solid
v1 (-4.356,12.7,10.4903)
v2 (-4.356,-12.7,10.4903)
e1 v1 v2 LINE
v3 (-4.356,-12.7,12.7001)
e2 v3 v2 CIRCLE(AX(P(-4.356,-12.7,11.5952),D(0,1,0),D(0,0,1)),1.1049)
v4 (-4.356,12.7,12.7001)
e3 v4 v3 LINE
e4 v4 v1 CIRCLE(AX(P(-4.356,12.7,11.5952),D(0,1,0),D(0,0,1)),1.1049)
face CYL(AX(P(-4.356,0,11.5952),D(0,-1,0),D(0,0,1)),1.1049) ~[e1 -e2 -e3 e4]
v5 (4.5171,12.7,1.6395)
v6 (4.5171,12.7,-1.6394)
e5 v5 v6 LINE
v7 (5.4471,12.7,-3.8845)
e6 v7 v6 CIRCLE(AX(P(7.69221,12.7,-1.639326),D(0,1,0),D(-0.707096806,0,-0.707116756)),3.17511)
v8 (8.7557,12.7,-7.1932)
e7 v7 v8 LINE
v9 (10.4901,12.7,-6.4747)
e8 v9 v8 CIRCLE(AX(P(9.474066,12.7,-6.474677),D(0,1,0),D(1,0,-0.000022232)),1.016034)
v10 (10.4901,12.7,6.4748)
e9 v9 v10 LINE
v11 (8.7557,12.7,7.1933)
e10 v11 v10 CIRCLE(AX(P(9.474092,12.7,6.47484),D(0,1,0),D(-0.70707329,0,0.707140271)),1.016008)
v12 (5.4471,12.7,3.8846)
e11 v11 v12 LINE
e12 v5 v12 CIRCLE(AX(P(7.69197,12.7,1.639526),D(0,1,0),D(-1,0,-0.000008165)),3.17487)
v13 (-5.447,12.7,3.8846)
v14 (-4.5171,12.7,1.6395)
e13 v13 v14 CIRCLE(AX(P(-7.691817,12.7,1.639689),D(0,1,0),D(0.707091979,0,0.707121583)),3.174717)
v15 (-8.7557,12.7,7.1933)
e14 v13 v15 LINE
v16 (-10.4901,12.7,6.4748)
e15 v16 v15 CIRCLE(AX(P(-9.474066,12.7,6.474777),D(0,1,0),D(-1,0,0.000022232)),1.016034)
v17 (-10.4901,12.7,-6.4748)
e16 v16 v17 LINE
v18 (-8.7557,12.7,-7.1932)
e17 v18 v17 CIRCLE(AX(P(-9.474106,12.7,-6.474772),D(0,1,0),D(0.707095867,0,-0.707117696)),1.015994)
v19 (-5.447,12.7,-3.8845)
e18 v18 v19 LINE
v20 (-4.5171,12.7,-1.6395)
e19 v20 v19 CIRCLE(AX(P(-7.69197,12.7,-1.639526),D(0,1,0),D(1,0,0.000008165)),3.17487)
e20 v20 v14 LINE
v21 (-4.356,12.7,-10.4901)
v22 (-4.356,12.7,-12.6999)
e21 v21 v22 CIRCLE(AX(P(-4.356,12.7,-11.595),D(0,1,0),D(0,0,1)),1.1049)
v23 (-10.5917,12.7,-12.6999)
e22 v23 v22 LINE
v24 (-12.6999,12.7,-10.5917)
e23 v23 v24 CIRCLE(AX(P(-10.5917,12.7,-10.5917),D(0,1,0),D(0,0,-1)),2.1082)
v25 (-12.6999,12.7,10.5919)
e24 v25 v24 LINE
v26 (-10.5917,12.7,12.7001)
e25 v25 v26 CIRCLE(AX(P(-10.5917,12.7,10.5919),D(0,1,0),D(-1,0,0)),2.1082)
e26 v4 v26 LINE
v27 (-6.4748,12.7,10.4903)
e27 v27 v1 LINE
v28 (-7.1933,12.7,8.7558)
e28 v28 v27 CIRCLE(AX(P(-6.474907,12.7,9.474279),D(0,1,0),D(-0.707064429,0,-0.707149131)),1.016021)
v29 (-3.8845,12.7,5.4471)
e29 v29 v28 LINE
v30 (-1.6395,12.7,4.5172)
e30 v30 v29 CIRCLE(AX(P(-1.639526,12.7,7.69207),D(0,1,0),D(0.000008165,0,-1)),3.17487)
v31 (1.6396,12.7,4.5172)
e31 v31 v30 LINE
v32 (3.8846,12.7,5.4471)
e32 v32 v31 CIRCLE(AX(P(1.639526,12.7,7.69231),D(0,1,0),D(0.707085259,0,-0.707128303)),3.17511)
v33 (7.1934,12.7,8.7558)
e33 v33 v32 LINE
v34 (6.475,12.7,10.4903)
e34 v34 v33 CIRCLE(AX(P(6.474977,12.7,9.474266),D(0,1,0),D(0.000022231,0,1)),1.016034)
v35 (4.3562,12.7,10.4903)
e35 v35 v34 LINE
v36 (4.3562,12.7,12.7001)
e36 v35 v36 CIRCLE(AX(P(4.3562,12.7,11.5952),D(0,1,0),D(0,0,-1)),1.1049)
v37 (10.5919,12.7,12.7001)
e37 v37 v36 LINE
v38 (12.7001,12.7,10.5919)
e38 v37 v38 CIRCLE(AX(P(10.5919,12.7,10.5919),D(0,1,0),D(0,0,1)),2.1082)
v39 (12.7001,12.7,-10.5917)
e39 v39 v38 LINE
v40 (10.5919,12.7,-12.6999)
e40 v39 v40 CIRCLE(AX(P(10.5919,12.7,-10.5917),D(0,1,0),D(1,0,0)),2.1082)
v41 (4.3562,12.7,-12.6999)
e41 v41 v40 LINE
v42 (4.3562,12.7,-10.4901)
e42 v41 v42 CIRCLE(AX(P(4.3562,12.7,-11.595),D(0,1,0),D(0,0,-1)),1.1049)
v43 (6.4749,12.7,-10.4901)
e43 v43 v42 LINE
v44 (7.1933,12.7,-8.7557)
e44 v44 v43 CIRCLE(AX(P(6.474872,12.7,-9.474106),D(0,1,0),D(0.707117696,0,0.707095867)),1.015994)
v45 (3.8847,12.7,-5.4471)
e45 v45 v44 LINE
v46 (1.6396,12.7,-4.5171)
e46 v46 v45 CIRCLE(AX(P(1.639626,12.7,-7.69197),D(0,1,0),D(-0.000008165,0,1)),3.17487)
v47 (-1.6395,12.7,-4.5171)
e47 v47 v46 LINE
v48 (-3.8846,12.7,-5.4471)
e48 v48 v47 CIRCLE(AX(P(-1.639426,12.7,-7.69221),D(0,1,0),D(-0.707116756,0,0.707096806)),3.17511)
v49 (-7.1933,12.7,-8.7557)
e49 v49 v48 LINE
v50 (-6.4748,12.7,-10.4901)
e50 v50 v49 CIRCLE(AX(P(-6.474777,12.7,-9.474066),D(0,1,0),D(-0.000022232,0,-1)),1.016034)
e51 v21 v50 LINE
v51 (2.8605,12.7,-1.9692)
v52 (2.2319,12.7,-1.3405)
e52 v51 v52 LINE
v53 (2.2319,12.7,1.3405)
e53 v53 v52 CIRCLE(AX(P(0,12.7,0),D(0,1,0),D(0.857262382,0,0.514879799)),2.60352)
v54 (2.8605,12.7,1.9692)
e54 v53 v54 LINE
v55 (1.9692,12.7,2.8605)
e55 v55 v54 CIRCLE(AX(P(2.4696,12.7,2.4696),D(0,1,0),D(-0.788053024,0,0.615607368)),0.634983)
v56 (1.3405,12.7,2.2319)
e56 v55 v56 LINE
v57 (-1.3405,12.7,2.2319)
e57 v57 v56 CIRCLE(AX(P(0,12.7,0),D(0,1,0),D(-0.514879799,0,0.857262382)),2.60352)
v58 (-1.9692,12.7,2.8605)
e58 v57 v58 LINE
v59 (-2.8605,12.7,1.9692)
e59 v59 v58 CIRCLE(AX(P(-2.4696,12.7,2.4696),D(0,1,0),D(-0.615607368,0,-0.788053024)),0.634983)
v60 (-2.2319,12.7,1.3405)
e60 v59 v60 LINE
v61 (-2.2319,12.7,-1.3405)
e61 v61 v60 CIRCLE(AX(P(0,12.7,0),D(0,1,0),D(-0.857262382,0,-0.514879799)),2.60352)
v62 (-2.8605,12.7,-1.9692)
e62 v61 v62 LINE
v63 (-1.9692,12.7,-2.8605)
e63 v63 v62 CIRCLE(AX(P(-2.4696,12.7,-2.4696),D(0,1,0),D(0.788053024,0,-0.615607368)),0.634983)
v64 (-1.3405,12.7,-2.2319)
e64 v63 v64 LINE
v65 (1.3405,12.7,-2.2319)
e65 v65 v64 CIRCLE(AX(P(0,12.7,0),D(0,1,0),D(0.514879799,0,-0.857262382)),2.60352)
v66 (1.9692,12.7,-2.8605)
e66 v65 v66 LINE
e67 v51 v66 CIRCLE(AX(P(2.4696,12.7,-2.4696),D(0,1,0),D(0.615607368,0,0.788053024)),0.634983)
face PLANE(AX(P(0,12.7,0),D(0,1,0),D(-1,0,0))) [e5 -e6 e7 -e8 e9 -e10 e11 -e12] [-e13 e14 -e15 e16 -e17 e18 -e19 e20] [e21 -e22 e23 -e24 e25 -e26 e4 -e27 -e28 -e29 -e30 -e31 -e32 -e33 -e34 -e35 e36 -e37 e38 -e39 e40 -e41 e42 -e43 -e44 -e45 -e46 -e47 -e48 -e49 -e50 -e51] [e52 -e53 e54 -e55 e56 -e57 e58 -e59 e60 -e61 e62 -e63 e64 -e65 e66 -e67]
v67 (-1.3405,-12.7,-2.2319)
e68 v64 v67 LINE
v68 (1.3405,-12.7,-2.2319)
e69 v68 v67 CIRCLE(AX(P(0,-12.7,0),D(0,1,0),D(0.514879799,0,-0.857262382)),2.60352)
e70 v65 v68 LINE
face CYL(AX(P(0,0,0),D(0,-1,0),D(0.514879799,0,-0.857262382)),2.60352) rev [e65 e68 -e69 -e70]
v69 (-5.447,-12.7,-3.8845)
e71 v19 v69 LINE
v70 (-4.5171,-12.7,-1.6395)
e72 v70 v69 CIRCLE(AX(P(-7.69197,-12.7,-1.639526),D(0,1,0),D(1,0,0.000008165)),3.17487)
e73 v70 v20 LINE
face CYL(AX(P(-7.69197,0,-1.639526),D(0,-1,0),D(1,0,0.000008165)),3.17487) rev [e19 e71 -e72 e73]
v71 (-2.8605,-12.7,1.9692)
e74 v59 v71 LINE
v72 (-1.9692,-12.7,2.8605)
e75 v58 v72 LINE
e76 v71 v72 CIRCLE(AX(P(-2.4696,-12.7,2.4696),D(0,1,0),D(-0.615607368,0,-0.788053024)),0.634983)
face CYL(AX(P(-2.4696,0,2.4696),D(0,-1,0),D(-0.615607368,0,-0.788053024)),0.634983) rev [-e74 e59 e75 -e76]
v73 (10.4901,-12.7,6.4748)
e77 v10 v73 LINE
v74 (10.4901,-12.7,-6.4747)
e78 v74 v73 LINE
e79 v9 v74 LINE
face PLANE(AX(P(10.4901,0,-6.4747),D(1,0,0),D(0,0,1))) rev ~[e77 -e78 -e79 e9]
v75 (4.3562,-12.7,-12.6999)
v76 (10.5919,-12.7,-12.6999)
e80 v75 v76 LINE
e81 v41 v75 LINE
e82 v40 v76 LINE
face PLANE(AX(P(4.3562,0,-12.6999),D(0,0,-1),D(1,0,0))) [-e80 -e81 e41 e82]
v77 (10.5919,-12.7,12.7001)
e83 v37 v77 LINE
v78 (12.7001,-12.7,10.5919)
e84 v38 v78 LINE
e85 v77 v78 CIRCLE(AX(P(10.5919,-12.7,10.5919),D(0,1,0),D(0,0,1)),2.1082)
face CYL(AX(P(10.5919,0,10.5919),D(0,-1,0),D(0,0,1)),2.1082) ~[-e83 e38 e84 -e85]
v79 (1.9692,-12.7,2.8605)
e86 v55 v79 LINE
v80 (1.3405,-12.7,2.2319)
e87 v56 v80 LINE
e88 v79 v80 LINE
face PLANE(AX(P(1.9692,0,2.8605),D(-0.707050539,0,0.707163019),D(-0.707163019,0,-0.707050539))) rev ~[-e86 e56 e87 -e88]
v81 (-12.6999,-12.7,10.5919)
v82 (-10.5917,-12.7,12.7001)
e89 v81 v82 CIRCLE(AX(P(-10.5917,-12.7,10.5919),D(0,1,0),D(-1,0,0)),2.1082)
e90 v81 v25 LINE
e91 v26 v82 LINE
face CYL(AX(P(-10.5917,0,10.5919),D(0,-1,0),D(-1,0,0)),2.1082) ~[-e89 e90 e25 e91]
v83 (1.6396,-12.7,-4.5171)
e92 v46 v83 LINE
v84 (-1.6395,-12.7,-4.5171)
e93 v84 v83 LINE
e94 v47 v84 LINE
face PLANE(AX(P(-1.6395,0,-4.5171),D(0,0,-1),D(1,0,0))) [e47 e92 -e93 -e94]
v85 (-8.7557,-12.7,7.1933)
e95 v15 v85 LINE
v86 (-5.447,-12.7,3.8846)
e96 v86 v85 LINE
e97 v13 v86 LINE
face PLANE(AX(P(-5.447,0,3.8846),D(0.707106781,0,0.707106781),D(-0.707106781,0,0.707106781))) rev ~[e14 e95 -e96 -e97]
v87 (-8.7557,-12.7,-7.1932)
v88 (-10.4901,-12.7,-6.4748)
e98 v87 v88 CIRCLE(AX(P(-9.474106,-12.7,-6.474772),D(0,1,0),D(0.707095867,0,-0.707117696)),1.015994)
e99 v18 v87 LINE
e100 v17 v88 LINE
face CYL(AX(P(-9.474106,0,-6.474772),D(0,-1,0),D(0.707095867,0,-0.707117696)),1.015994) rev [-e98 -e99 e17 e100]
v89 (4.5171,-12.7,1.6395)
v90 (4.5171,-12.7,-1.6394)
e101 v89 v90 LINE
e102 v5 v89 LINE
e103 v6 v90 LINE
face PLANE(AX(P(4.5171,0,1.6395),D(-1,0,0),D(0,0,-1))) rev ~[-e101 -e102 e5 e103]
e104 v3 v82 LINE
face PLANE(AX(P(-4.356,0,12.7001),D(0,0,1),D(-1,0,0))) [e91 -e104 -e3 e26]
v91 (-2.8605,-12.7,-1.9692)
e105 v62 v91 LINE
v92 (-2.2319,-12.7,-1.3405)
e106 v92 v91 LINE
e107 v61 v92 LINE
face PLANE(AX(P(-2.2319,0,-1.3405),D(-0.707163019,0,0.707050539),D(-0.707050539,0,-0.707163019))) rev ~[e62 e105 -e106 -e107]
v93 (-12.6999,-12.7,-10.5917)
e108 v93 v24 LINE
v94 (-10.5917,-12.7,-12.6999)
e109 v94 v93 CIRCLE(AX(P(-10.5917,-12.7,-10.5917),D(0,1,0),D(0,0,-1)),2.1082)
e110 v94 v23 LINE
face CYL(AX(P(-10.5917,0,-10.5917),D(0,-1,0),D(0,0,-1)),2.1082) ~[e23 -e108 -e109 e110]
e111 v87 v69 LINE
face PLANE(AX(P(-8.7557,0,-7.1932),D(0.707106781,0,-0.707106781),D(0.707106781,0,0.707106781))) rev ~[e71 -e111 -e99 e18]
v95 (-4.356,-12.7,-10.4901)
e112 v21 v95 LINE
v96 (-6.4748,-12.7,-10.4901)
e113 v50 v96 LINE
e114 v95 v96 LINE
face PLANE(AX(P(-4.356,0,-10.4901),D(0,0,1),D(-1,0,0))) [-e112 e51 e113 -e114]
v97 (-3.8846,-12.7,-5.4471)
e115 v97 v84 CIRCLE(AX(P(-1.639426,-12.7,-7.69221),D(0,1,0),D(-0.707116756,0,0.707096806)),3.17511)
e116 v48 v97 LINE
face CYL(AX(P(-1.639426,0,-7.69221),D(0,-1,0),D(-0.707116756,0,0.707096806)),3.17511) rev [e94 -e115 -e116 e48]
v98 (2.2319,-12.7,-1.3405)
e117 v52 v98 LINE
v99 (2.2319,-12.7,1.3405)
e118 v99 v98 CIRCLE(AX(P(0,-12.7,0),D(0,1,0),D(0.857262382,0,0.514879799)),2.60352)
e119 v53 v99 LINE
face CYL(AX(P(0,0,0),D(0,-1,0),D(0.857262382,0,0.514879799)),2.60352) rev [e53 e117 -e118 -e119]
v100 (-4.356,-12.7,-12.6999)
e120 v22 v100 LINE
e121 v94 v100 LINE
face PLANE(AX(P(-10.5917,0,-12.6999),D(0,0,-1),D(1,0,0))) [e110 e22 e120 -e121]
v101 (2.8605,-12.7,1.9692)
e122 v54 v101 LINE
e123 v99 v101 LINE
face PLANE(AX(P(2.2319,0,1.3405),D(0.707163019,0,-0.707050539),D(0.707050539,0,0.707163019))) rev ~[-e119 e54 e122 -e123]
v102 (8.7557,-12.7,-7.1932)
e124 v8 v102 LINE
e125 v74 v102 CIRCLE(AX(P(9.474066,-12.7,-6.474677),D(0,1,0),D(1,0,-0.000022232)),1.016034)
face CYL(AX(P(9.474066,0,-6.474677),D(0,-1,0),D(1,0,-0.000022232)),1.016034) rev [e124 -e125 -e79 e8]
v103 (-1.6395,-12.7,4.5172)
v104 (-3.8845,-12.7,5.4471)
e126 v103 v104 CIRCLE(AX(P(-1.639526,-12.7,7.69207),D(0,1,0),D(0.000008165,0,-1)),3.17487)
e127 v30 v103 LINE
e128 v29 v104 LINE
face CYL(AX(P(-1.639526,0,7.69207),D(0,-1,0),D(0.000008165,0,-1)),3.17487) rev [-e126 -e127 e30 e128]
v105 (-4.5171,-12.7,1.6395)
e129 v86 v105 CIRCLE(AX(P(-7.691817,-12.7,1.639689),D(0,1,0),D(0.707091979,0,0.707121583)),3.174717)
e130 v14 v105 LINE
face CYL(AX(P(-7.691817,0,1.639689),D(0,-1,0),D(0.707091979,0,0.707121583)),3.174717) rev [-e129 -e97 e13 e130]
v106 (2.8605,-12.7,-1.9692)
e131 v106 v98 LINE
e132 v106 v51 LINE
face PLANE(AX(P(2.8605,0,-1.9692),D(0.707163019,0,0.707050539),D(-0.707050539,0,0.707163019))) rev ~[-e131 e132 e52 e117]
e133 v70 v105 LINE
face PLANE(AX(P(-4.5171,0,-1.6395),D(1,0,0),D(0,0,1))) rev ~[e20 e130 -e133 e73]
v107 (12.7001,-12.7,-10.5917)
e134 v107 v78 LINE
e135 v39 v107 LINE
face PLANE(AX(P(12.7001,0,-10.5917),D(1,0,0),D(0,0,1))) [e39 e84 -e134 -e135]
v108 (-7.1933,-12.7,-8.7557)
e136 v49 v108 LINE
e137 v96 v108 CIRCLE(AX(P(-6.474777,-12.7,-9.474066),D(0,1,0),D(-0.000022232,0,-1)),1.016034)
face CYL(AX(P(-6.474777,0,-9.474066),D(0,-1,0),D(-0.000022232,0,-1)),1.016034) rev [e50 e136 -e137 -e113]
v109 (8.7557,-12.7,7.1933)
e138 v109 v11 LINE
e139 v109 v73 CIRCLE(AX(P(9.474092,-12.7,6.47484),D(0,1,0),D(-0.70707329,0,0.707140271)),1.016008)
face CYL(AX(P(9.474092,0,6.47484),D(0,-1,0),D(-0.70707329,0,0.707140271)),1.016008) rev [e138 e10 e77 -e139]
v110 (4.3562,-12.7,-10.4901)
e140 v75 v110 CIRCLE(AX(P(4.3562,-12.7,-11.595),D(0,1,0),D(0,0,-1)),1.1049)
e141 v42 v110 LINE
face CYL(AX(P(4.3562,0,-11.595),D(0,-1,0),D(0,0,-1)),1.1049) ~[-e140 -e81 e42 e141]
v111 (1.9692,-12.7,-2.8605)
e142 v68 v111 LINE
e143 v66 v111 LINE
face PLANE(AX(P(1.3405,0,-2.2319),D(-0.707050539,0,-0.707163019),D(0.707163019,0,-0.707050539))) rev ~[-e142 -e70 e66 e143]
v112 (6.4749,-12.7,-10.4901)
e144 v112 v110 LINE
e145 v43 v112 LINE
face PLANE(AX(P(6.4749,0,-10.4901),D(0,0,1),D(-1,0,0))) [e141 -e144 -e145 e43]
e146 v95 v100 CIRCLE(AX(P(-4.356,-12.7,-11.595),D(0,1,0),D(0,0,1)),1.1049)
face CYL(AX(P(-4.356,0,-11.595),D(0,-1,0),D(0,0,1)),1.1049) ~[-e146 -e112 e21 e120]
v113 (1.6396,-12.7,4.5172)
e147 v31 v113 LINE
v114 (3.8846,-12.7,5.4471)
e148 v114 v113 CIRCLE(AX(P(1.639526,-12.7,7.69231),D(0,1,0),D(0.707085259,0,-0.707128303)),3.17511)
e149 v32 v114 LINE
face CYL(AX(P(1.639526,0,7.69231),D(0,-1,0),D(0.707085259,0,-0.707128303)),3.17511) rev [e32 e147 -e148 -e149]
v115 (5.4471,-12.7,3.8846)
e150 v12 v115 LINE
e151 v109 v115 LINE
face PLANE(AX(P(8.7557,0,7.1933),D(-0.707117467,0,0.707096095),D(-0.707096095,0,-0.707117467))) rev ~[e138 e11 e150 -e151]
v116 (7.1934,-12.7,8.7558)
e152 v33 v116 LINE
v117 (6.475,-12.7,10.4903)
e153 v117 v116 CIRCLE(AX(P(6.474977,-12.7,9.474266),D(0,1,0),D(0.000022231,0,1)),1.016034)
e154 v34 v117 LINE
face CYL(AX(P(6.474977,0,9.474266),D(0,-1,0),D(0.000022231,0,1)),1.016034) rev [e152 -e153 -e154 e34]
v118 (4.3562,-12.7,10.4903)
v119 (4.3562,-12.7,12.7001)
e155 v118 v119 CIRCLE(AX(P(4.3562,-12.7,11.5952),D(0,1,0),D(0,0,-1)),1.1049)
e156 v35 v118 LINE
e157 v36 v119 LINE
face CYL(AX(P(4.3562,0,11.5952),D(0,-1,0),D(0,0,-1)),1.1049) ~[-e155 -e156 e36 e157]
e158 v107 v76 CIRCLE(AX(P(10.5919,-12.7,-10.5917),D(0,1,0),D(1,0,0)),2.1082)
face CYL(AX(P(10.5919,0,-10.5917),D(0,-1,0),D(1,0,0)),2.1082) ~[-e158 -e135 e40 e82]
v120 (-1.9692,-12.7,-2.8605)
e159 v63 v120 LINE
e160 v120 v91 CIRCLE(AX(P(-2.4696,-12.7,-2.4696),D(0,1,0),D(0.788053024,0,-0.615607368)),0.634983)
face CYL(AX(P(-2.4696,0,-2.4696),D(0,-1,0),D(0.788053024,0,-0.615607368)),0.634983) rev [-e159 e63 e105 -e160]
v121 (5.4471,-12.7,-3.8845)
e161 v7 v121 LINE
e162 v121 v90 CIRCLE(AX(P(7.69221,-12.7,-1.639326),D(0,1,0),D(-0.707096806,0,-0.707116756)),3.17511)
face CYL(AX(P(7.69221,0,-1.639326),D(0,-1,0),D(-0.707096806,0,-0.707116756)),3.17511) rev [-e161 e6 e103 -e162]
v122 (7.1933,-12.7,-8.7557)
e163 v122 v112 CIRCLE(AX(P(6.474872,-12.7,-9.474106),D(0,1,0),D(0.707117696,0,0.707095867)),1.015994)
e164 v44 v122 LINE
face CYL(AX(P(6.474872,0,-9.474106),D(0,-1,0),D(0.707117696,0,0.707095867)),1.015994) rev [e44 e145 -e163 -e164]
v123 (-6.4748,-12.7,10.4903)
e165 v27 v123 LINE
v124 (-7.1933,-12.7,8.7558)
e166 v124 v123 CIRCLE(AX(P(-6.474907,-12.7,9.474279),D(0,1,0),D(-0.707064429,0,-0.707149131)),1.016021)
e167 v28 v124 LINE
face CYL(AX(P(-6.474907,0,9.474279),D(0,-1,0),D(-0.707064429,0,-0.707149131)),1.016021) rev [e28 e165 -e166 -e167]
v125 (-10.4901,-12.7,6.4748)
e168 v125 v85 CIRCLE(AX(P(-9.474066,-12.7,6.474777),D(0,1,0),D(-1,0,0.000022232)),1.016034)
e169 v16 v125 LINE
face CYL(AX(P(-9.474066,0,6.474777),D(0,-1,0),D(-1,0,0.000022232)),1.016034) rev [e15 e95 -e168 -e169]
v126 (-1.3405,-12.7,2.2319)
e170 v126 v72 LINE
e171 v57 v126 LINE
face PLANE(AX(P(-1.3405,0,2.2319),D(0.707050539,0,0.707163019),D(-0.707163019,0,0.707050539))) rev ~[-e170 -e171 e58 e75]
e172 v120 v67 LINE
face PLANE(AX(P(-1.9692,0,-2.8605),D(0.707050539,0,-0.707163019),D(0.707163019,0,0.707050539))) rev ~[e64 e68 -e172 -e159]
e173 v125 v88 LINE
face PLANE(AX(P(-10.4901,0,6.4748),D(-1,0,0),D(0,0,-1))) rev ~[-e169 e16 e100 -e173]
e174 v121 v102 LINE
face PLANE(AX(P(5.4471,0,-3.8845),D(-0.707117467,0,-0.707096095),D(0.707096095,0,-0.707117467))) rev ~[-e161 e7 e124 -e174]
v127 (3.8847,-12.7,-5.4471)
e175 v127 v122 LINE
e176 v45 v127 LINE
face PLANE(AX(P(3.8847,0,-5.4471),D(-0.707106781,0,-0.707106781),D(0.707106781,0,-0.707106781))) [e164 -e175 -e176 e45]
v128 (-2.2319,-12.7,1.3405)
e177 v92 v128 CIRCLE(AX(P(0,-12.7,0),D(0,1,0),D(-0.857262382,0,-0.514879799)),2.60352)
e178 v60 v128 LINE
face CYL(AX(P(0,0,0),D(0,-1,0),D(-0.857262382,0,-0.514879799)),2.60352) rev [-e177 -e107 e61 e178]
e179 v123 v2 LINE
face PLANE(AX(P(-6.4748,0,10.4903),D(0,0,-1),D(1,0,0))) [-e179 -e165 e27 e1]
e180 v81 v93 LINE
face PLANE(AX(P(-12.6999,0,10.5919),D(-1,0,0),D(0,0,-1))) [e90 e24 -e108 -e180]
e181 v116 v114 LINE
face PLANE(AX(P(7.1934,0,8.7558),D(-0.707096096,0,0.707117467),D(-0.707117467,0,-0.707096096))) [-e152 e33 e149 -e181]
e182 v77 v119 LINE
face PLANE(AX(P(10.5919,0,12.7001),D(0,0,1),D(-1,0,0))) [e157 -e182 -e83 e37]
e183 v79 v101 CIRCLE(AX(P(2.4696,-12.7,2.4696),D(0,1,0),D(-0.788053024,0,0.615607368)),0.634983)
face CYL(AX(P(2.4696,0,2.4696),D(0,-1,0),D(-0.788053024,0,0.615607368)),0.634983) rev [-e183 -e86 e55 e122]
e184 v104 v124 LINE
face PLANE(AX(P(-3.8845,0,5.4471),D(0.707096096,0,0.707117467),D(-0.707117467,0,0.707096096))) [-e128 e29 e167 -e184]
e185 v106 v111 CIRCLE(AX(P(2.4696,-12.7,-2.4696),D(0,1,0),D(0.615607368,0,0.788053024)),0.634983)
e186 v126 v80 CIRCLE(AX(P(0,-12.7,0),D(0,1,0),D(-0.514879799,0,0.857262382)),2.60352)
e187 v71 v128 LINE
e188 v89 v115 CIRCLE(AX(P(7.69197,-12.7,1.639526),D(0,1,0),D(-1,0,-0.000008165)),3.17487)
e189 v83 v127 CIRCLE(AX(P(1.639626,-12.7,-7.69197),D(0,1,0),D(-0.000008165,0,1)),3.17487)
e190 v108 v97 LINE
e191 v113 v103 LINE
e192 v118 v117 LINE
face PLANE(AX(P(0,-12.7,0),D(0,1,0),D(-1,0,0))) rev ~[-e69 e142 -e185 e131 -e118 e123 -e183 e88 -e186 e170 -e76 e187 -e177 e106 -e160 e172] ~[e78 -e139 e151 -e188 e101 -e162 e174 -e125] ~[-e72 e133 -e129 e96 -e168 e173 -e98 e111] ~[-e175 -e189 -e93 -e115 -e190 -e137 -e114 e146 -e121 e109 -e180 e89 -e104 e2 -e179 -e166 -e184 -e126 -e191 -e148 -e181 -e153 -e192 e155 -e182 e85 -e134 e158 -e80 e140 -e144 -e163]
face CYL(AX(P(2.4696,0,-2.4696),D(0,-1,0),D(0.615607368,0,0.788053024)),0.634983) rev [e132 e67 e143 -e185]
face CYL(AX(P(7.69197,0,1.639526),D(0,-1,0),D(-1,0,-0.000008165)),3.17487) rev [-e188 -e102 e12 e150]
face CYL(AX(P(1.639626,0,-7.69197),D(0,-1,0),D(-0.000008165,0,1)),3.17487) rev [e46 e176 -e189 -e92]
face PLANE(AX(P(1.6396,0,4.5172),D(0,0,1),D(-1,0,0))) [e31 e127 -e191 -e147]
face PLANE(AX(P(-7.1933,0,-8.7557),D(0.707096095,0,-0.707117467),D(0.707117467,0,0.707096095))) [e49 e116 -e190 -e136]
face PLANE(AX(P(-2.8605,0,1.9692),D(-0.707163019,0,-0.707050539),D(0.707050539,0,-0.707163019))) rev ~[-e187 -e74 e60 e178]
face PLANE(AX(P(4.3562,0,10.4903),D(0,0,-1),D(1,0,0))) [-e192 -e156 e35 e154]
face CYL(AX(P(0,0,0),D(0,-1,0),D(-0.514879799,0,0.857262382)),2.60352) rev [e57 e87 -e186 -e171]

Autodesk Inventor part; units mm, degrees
ref_plane "YZ Plane" through (0, 0, 0) normal (1, 0, 0) x (0, 1, 0)
ref_plane "XZ Plane" through (0, 0, 0) normal (0, 1, 0) x (-1, 0, 0)
ref_plane "XY Plane" through (0, 0, 0) normal (0, 0, 1) x (1, 0, 0)
sketch "Sketch1" plane through (0, 0, 0) normal (0, 1, 0) x (-1, 0, 0)
  arc A0 (-2.8605, -1.9692) -> (-1.9692, -2.8605) centre (-2.4696, -2.4696) ccw
  line L0 (-1.3405, -2.2319) -> (-1.9692, -2.8605)
  arc A1 (-1.3405, -2.2319) -> (1.3405, -2.2319) centre (0, 0) ccw
  line L1 (1.9692, -2.8605) -> (1.3405, -2.2319)
  arc A2 (1.9692, -2.8605) -> (2.8605, -1.9692) centre (2.4696, -2.4696) ccw
  line L2 (2.2319, -1.3405) -> (2.8605, -1.9692)
  arc A3 (2.2319, -1.3405) -> (2.2319, 1.3405) centre (0, 0) ccw
  line L3 (2.8605, 1.9692) -> (2.2319, 1.3405)
  arc A4 (2.8605, 1.9692) -> (1.9692, 2.8605) centre (2.4696, 2.4696) ccw
  line L4 (1.3405, 2.2319) -> (1.9692, 2.8605)
  arc A5 (1.3405, 2.2319) -> (-1.3405, 2.2319) centre (0, 0) ccw
  line L5 (-1.9692, 2.8605) -> (-1.3405, 2.2319)
  arc A6 (-1.9692, 2.8605) -> (-2.8605, 1.9692) centre (-2.4696, 2.4696) ccw
  line L6 (-2.2319, 1.3405) -> (-2.8605, 1.9692)
  arc A7 (-2.2319, 1.3405) -> (-2.2319, -1.3405) centre (0, 0) ccw
  line L7 (-2.8605, -1.9692) -> (-2.2319, -1.3405)
  arc A8 (4.5171, -1.6395) -> (5.447, -3.8845) centre (7.6921, -1.6395) ccw
  line L8 (8.7557, -7.1932) -> (5.447, -3.8845)
  arc A9 (8.7557, -7.1932) -> (10.4901, -6.4748) centre (9.4741, -6.4748) ccw
  line L9 (10.4901, 6.4748) -> (10.4901, -6.4748)
  arc A10 (10.4901, 6.4748) -> (8.7557, 7.1933) centre (9.4741, 6.4748) ccw
  line L10 (5.447, 3.8846) -> (8.7557, 7.1933)
  arc A11 (5.447, 3.8846) -> (4.5171, 1.6395) centre (7.6921, 1.6395) ccw
  line L11 (4.5171, -1.6395) -> (4.5171, 1.6395)
  arc A12 (-8.7557, 7.1933) -> (-10.4901, 6.4748) centre (-9.4741, 6.4748) ccw
  line L12 (-10.4901, -6.4747) -> (-10.4901, 6.4748)
  arc A13 (-10.4901, -6.4747) -> (-8.7557, -7.1932) centre (-9.4741, -6.4747) ccw
  line L13 (-5.4471, -3.8845) -> (-8.7557, -7.1932)
  arc A14 (-5.4471, -3.8845) -> (-4.5171, -1.6394) centre (-7.6921, -1.6394) ccw
  line L14 (-4.5171, 1.6395) -> (-4.5171, -1.6394)
  arc A15 (-4.5171, 1.6395) -> (-5.4471, 3.8846) centre (-7.6921, 1.6395) ccw
  line L15 (-8.7557, 7.1933) -> (-5.4471, 3.8846)
  arc A16 (10.5917, -12.6999) -> (12.6999, -10.5917) centre (10.5917, -10.5917) ccw
  line L16 (10.5917, -12.6999) -> (4.356, -12.6999)
  arc A17 (4.356, -10.4901) -> (4.356, -12.6999) centre (4.356, -11.595) ccw
  line L17 (4.356, -10.4901) -> (6.4748, -10.4901)
  arc A18 (6.4748, -10.4901) -> (7.1933, -8.7557) centre (6.4748, -9.4741) ccw
  line L18 (7.1933, -8.7557) -> (3.8846, -5.4471)
  arc A19 (3.8846, -5.4471) -> (1.6395, -4.5171) centre (1.6395, -7.6921) ccw
  line L19 (1.6395, -4.5171) -> (-1.6396, -4.5171)
  arc A20 (-1.6396, -4.5171) -> (-3.8847, -5.4471) centre (-1.6396, -7.6921) ccw
  line L20 (-3.8847, -5.4471) -> (-7.1933, -8.7557)
  arc A21 (-7.1933, -8.7557) -> (-6.4749, -10.4901) centre (-6.4749, -9.4741) ccw
  line L21 (-6.4749, -10.4901) -> (-4.3562, -10.4901)
  arc A22 (-4.3562, -12.6999) -> (-4.3562, -10.4901) centre (-4.3562, -11.595) ccw
  line L22 (-4.3562, -12.6999) -> (-10.5919, -12.6999)
  arc A23 (-12.7001, -10.5917) -> (-10.5919, -12.6999) centre (-10.5919, -10.5917) ccw
  line L23 (-12.7001, -10.5917) -> (-12.7001, 10.5919)
  arc A24 (-10.5919, 12.7001) -> (-12.7001, 10.5919) centre (-10.5919, 10.5919) ccw
  line L24 (-10.5919, 12.7001) -> (-4.3562, 12.7001)
  arc A25 (-4.3562, 10.4903) -> (-4.3562, 12.7001) centre (-4.3562, 11.5952) ccw
  line L25 (-4.3562, 10.4903) -> (-6.475, 10.4903)
  arc A26 (-6.475, 10.4903) -> (-7.1934, 8.7558) centre (-6.475, 9.4743) ccw
  line L26 (-7.1934, 8.7558) -> (-3.8846, 5.4471)
  arc A27 (-3.8846, 5.4471) -> (-1.6396, 4.5172) centre (-1.6396, 7.6922) ccw
  line L27 (-1.6396, 4.5172) -> (1.6395, 4.5172)
  arc A28 (1.6395, 4.5172) -> (3.8845, 5.4471) centre (1.6395, 7.6922) ccw
  line L28 (3.8845, 5.4471) -> (7.1933, 8.7558)
  arc A29 (7.1933, 8.7558) -> (6.4748, 10.4903) centre (6.4748, 9.4743) ccw
  line L29 (6.4748, 10.4903) -> (4.356, 10.4903)
  arc A30 (4.356, 12.7001) -> (4.356, 10.4903) centre (4.356, 11.5952) ccw
  line L30 (4.356, 12.7001) -> (10.5917, 12.7001)
  arc A31 (12.6999, 10.5919) -> (10.5917, 12.7001) centre (10.5917, 10.5919) ccw
  line L31 (12.6999, 10.5919) -> (12.6999, -10.5917)
  point P0 (0, 0)
  dimension "d0" = 2.1082
  dimension "d1" = 1.016
  dimension "d2" = 3.175
  dimension "d3" = 1.1049
  dimension "d4" = 0.635
  dimension "d5" = 2.6035
  dimension "d6" = 2.6035
  dimension "d7" = 2.6035
  dimension "d8" = 2.6035
  dimension "d9" = 90
  dimension "d10" = 90
  dimension "d11" = 45
  dimension "d12" = 45
  dimension "d13" = 45
  dimension "d14" = 90
  dimension "d15" = 90
  dimension "d16" = 45
  dimension "d17" = 45
  dimension "d18" = 45
  dimension "d19" = 45
  dimension "d20" = 45
  dimension "d21" = 45
  dimension "d22" = 2.2099
  dimension "d23" = 8.1829
  dimension "d24" = 17.2171
  dimension "d25" = 23.1901
  dimension "d26" = 25.4
  dimension "d27" = 1.7352
  dimension "d28" = 0.4746
  dimension "d29" = 2.2097
  dimension "d30" = 1.7351
  dimension "d31" = 0.4746
  dimension "d32" = 2.2096
  dimension "d33" = 9.0343
  dimension "d34" = 5.9731
  dimension "d35" = 15.0073
  dimension "d36" = 12.6999
  dimension "d37" = 12.7
  dimension "d38" = 12.6999
  dimension "d39" = 1.1048
  dimension "d40" = 1.1048
  dimension "d41" = 1.1049
  dimension "d42" = 1.1048
  dimension "d43" = 10.4902
  dimension "d44" = 10.4901
  dimension "d45" = 4.5172
  dimension "d46" = 0.6303
  dimension "d47" = 0.6303
  dimension "d48" = 0.6303
  dimension "d49" = 0.6303
  dimension "d50" = 1.1048
  dimension "d51" = 1.1049
  dimension "d52" = 8.3439
  dimension "d53" = 8.3439
  dimension "d54" = 9.8395
  dimension "d55" = 9.8395
  dimension "d56" = 10.2304
  dimension "d57" = 10.2304
  dimension "d58" = 10.4681
  dimension "d59" = 10.4681
  dimension "d60" = 14.6691
  dimension "d61" = 14.6691
  dimension "d62" = 15.1695
  dimension "d63" = 15.1695
extrude "Extrusion1" add sketch "Sketch1" along normal mid plane 25.4
properties part number "1004-S" material "6105-T5"
